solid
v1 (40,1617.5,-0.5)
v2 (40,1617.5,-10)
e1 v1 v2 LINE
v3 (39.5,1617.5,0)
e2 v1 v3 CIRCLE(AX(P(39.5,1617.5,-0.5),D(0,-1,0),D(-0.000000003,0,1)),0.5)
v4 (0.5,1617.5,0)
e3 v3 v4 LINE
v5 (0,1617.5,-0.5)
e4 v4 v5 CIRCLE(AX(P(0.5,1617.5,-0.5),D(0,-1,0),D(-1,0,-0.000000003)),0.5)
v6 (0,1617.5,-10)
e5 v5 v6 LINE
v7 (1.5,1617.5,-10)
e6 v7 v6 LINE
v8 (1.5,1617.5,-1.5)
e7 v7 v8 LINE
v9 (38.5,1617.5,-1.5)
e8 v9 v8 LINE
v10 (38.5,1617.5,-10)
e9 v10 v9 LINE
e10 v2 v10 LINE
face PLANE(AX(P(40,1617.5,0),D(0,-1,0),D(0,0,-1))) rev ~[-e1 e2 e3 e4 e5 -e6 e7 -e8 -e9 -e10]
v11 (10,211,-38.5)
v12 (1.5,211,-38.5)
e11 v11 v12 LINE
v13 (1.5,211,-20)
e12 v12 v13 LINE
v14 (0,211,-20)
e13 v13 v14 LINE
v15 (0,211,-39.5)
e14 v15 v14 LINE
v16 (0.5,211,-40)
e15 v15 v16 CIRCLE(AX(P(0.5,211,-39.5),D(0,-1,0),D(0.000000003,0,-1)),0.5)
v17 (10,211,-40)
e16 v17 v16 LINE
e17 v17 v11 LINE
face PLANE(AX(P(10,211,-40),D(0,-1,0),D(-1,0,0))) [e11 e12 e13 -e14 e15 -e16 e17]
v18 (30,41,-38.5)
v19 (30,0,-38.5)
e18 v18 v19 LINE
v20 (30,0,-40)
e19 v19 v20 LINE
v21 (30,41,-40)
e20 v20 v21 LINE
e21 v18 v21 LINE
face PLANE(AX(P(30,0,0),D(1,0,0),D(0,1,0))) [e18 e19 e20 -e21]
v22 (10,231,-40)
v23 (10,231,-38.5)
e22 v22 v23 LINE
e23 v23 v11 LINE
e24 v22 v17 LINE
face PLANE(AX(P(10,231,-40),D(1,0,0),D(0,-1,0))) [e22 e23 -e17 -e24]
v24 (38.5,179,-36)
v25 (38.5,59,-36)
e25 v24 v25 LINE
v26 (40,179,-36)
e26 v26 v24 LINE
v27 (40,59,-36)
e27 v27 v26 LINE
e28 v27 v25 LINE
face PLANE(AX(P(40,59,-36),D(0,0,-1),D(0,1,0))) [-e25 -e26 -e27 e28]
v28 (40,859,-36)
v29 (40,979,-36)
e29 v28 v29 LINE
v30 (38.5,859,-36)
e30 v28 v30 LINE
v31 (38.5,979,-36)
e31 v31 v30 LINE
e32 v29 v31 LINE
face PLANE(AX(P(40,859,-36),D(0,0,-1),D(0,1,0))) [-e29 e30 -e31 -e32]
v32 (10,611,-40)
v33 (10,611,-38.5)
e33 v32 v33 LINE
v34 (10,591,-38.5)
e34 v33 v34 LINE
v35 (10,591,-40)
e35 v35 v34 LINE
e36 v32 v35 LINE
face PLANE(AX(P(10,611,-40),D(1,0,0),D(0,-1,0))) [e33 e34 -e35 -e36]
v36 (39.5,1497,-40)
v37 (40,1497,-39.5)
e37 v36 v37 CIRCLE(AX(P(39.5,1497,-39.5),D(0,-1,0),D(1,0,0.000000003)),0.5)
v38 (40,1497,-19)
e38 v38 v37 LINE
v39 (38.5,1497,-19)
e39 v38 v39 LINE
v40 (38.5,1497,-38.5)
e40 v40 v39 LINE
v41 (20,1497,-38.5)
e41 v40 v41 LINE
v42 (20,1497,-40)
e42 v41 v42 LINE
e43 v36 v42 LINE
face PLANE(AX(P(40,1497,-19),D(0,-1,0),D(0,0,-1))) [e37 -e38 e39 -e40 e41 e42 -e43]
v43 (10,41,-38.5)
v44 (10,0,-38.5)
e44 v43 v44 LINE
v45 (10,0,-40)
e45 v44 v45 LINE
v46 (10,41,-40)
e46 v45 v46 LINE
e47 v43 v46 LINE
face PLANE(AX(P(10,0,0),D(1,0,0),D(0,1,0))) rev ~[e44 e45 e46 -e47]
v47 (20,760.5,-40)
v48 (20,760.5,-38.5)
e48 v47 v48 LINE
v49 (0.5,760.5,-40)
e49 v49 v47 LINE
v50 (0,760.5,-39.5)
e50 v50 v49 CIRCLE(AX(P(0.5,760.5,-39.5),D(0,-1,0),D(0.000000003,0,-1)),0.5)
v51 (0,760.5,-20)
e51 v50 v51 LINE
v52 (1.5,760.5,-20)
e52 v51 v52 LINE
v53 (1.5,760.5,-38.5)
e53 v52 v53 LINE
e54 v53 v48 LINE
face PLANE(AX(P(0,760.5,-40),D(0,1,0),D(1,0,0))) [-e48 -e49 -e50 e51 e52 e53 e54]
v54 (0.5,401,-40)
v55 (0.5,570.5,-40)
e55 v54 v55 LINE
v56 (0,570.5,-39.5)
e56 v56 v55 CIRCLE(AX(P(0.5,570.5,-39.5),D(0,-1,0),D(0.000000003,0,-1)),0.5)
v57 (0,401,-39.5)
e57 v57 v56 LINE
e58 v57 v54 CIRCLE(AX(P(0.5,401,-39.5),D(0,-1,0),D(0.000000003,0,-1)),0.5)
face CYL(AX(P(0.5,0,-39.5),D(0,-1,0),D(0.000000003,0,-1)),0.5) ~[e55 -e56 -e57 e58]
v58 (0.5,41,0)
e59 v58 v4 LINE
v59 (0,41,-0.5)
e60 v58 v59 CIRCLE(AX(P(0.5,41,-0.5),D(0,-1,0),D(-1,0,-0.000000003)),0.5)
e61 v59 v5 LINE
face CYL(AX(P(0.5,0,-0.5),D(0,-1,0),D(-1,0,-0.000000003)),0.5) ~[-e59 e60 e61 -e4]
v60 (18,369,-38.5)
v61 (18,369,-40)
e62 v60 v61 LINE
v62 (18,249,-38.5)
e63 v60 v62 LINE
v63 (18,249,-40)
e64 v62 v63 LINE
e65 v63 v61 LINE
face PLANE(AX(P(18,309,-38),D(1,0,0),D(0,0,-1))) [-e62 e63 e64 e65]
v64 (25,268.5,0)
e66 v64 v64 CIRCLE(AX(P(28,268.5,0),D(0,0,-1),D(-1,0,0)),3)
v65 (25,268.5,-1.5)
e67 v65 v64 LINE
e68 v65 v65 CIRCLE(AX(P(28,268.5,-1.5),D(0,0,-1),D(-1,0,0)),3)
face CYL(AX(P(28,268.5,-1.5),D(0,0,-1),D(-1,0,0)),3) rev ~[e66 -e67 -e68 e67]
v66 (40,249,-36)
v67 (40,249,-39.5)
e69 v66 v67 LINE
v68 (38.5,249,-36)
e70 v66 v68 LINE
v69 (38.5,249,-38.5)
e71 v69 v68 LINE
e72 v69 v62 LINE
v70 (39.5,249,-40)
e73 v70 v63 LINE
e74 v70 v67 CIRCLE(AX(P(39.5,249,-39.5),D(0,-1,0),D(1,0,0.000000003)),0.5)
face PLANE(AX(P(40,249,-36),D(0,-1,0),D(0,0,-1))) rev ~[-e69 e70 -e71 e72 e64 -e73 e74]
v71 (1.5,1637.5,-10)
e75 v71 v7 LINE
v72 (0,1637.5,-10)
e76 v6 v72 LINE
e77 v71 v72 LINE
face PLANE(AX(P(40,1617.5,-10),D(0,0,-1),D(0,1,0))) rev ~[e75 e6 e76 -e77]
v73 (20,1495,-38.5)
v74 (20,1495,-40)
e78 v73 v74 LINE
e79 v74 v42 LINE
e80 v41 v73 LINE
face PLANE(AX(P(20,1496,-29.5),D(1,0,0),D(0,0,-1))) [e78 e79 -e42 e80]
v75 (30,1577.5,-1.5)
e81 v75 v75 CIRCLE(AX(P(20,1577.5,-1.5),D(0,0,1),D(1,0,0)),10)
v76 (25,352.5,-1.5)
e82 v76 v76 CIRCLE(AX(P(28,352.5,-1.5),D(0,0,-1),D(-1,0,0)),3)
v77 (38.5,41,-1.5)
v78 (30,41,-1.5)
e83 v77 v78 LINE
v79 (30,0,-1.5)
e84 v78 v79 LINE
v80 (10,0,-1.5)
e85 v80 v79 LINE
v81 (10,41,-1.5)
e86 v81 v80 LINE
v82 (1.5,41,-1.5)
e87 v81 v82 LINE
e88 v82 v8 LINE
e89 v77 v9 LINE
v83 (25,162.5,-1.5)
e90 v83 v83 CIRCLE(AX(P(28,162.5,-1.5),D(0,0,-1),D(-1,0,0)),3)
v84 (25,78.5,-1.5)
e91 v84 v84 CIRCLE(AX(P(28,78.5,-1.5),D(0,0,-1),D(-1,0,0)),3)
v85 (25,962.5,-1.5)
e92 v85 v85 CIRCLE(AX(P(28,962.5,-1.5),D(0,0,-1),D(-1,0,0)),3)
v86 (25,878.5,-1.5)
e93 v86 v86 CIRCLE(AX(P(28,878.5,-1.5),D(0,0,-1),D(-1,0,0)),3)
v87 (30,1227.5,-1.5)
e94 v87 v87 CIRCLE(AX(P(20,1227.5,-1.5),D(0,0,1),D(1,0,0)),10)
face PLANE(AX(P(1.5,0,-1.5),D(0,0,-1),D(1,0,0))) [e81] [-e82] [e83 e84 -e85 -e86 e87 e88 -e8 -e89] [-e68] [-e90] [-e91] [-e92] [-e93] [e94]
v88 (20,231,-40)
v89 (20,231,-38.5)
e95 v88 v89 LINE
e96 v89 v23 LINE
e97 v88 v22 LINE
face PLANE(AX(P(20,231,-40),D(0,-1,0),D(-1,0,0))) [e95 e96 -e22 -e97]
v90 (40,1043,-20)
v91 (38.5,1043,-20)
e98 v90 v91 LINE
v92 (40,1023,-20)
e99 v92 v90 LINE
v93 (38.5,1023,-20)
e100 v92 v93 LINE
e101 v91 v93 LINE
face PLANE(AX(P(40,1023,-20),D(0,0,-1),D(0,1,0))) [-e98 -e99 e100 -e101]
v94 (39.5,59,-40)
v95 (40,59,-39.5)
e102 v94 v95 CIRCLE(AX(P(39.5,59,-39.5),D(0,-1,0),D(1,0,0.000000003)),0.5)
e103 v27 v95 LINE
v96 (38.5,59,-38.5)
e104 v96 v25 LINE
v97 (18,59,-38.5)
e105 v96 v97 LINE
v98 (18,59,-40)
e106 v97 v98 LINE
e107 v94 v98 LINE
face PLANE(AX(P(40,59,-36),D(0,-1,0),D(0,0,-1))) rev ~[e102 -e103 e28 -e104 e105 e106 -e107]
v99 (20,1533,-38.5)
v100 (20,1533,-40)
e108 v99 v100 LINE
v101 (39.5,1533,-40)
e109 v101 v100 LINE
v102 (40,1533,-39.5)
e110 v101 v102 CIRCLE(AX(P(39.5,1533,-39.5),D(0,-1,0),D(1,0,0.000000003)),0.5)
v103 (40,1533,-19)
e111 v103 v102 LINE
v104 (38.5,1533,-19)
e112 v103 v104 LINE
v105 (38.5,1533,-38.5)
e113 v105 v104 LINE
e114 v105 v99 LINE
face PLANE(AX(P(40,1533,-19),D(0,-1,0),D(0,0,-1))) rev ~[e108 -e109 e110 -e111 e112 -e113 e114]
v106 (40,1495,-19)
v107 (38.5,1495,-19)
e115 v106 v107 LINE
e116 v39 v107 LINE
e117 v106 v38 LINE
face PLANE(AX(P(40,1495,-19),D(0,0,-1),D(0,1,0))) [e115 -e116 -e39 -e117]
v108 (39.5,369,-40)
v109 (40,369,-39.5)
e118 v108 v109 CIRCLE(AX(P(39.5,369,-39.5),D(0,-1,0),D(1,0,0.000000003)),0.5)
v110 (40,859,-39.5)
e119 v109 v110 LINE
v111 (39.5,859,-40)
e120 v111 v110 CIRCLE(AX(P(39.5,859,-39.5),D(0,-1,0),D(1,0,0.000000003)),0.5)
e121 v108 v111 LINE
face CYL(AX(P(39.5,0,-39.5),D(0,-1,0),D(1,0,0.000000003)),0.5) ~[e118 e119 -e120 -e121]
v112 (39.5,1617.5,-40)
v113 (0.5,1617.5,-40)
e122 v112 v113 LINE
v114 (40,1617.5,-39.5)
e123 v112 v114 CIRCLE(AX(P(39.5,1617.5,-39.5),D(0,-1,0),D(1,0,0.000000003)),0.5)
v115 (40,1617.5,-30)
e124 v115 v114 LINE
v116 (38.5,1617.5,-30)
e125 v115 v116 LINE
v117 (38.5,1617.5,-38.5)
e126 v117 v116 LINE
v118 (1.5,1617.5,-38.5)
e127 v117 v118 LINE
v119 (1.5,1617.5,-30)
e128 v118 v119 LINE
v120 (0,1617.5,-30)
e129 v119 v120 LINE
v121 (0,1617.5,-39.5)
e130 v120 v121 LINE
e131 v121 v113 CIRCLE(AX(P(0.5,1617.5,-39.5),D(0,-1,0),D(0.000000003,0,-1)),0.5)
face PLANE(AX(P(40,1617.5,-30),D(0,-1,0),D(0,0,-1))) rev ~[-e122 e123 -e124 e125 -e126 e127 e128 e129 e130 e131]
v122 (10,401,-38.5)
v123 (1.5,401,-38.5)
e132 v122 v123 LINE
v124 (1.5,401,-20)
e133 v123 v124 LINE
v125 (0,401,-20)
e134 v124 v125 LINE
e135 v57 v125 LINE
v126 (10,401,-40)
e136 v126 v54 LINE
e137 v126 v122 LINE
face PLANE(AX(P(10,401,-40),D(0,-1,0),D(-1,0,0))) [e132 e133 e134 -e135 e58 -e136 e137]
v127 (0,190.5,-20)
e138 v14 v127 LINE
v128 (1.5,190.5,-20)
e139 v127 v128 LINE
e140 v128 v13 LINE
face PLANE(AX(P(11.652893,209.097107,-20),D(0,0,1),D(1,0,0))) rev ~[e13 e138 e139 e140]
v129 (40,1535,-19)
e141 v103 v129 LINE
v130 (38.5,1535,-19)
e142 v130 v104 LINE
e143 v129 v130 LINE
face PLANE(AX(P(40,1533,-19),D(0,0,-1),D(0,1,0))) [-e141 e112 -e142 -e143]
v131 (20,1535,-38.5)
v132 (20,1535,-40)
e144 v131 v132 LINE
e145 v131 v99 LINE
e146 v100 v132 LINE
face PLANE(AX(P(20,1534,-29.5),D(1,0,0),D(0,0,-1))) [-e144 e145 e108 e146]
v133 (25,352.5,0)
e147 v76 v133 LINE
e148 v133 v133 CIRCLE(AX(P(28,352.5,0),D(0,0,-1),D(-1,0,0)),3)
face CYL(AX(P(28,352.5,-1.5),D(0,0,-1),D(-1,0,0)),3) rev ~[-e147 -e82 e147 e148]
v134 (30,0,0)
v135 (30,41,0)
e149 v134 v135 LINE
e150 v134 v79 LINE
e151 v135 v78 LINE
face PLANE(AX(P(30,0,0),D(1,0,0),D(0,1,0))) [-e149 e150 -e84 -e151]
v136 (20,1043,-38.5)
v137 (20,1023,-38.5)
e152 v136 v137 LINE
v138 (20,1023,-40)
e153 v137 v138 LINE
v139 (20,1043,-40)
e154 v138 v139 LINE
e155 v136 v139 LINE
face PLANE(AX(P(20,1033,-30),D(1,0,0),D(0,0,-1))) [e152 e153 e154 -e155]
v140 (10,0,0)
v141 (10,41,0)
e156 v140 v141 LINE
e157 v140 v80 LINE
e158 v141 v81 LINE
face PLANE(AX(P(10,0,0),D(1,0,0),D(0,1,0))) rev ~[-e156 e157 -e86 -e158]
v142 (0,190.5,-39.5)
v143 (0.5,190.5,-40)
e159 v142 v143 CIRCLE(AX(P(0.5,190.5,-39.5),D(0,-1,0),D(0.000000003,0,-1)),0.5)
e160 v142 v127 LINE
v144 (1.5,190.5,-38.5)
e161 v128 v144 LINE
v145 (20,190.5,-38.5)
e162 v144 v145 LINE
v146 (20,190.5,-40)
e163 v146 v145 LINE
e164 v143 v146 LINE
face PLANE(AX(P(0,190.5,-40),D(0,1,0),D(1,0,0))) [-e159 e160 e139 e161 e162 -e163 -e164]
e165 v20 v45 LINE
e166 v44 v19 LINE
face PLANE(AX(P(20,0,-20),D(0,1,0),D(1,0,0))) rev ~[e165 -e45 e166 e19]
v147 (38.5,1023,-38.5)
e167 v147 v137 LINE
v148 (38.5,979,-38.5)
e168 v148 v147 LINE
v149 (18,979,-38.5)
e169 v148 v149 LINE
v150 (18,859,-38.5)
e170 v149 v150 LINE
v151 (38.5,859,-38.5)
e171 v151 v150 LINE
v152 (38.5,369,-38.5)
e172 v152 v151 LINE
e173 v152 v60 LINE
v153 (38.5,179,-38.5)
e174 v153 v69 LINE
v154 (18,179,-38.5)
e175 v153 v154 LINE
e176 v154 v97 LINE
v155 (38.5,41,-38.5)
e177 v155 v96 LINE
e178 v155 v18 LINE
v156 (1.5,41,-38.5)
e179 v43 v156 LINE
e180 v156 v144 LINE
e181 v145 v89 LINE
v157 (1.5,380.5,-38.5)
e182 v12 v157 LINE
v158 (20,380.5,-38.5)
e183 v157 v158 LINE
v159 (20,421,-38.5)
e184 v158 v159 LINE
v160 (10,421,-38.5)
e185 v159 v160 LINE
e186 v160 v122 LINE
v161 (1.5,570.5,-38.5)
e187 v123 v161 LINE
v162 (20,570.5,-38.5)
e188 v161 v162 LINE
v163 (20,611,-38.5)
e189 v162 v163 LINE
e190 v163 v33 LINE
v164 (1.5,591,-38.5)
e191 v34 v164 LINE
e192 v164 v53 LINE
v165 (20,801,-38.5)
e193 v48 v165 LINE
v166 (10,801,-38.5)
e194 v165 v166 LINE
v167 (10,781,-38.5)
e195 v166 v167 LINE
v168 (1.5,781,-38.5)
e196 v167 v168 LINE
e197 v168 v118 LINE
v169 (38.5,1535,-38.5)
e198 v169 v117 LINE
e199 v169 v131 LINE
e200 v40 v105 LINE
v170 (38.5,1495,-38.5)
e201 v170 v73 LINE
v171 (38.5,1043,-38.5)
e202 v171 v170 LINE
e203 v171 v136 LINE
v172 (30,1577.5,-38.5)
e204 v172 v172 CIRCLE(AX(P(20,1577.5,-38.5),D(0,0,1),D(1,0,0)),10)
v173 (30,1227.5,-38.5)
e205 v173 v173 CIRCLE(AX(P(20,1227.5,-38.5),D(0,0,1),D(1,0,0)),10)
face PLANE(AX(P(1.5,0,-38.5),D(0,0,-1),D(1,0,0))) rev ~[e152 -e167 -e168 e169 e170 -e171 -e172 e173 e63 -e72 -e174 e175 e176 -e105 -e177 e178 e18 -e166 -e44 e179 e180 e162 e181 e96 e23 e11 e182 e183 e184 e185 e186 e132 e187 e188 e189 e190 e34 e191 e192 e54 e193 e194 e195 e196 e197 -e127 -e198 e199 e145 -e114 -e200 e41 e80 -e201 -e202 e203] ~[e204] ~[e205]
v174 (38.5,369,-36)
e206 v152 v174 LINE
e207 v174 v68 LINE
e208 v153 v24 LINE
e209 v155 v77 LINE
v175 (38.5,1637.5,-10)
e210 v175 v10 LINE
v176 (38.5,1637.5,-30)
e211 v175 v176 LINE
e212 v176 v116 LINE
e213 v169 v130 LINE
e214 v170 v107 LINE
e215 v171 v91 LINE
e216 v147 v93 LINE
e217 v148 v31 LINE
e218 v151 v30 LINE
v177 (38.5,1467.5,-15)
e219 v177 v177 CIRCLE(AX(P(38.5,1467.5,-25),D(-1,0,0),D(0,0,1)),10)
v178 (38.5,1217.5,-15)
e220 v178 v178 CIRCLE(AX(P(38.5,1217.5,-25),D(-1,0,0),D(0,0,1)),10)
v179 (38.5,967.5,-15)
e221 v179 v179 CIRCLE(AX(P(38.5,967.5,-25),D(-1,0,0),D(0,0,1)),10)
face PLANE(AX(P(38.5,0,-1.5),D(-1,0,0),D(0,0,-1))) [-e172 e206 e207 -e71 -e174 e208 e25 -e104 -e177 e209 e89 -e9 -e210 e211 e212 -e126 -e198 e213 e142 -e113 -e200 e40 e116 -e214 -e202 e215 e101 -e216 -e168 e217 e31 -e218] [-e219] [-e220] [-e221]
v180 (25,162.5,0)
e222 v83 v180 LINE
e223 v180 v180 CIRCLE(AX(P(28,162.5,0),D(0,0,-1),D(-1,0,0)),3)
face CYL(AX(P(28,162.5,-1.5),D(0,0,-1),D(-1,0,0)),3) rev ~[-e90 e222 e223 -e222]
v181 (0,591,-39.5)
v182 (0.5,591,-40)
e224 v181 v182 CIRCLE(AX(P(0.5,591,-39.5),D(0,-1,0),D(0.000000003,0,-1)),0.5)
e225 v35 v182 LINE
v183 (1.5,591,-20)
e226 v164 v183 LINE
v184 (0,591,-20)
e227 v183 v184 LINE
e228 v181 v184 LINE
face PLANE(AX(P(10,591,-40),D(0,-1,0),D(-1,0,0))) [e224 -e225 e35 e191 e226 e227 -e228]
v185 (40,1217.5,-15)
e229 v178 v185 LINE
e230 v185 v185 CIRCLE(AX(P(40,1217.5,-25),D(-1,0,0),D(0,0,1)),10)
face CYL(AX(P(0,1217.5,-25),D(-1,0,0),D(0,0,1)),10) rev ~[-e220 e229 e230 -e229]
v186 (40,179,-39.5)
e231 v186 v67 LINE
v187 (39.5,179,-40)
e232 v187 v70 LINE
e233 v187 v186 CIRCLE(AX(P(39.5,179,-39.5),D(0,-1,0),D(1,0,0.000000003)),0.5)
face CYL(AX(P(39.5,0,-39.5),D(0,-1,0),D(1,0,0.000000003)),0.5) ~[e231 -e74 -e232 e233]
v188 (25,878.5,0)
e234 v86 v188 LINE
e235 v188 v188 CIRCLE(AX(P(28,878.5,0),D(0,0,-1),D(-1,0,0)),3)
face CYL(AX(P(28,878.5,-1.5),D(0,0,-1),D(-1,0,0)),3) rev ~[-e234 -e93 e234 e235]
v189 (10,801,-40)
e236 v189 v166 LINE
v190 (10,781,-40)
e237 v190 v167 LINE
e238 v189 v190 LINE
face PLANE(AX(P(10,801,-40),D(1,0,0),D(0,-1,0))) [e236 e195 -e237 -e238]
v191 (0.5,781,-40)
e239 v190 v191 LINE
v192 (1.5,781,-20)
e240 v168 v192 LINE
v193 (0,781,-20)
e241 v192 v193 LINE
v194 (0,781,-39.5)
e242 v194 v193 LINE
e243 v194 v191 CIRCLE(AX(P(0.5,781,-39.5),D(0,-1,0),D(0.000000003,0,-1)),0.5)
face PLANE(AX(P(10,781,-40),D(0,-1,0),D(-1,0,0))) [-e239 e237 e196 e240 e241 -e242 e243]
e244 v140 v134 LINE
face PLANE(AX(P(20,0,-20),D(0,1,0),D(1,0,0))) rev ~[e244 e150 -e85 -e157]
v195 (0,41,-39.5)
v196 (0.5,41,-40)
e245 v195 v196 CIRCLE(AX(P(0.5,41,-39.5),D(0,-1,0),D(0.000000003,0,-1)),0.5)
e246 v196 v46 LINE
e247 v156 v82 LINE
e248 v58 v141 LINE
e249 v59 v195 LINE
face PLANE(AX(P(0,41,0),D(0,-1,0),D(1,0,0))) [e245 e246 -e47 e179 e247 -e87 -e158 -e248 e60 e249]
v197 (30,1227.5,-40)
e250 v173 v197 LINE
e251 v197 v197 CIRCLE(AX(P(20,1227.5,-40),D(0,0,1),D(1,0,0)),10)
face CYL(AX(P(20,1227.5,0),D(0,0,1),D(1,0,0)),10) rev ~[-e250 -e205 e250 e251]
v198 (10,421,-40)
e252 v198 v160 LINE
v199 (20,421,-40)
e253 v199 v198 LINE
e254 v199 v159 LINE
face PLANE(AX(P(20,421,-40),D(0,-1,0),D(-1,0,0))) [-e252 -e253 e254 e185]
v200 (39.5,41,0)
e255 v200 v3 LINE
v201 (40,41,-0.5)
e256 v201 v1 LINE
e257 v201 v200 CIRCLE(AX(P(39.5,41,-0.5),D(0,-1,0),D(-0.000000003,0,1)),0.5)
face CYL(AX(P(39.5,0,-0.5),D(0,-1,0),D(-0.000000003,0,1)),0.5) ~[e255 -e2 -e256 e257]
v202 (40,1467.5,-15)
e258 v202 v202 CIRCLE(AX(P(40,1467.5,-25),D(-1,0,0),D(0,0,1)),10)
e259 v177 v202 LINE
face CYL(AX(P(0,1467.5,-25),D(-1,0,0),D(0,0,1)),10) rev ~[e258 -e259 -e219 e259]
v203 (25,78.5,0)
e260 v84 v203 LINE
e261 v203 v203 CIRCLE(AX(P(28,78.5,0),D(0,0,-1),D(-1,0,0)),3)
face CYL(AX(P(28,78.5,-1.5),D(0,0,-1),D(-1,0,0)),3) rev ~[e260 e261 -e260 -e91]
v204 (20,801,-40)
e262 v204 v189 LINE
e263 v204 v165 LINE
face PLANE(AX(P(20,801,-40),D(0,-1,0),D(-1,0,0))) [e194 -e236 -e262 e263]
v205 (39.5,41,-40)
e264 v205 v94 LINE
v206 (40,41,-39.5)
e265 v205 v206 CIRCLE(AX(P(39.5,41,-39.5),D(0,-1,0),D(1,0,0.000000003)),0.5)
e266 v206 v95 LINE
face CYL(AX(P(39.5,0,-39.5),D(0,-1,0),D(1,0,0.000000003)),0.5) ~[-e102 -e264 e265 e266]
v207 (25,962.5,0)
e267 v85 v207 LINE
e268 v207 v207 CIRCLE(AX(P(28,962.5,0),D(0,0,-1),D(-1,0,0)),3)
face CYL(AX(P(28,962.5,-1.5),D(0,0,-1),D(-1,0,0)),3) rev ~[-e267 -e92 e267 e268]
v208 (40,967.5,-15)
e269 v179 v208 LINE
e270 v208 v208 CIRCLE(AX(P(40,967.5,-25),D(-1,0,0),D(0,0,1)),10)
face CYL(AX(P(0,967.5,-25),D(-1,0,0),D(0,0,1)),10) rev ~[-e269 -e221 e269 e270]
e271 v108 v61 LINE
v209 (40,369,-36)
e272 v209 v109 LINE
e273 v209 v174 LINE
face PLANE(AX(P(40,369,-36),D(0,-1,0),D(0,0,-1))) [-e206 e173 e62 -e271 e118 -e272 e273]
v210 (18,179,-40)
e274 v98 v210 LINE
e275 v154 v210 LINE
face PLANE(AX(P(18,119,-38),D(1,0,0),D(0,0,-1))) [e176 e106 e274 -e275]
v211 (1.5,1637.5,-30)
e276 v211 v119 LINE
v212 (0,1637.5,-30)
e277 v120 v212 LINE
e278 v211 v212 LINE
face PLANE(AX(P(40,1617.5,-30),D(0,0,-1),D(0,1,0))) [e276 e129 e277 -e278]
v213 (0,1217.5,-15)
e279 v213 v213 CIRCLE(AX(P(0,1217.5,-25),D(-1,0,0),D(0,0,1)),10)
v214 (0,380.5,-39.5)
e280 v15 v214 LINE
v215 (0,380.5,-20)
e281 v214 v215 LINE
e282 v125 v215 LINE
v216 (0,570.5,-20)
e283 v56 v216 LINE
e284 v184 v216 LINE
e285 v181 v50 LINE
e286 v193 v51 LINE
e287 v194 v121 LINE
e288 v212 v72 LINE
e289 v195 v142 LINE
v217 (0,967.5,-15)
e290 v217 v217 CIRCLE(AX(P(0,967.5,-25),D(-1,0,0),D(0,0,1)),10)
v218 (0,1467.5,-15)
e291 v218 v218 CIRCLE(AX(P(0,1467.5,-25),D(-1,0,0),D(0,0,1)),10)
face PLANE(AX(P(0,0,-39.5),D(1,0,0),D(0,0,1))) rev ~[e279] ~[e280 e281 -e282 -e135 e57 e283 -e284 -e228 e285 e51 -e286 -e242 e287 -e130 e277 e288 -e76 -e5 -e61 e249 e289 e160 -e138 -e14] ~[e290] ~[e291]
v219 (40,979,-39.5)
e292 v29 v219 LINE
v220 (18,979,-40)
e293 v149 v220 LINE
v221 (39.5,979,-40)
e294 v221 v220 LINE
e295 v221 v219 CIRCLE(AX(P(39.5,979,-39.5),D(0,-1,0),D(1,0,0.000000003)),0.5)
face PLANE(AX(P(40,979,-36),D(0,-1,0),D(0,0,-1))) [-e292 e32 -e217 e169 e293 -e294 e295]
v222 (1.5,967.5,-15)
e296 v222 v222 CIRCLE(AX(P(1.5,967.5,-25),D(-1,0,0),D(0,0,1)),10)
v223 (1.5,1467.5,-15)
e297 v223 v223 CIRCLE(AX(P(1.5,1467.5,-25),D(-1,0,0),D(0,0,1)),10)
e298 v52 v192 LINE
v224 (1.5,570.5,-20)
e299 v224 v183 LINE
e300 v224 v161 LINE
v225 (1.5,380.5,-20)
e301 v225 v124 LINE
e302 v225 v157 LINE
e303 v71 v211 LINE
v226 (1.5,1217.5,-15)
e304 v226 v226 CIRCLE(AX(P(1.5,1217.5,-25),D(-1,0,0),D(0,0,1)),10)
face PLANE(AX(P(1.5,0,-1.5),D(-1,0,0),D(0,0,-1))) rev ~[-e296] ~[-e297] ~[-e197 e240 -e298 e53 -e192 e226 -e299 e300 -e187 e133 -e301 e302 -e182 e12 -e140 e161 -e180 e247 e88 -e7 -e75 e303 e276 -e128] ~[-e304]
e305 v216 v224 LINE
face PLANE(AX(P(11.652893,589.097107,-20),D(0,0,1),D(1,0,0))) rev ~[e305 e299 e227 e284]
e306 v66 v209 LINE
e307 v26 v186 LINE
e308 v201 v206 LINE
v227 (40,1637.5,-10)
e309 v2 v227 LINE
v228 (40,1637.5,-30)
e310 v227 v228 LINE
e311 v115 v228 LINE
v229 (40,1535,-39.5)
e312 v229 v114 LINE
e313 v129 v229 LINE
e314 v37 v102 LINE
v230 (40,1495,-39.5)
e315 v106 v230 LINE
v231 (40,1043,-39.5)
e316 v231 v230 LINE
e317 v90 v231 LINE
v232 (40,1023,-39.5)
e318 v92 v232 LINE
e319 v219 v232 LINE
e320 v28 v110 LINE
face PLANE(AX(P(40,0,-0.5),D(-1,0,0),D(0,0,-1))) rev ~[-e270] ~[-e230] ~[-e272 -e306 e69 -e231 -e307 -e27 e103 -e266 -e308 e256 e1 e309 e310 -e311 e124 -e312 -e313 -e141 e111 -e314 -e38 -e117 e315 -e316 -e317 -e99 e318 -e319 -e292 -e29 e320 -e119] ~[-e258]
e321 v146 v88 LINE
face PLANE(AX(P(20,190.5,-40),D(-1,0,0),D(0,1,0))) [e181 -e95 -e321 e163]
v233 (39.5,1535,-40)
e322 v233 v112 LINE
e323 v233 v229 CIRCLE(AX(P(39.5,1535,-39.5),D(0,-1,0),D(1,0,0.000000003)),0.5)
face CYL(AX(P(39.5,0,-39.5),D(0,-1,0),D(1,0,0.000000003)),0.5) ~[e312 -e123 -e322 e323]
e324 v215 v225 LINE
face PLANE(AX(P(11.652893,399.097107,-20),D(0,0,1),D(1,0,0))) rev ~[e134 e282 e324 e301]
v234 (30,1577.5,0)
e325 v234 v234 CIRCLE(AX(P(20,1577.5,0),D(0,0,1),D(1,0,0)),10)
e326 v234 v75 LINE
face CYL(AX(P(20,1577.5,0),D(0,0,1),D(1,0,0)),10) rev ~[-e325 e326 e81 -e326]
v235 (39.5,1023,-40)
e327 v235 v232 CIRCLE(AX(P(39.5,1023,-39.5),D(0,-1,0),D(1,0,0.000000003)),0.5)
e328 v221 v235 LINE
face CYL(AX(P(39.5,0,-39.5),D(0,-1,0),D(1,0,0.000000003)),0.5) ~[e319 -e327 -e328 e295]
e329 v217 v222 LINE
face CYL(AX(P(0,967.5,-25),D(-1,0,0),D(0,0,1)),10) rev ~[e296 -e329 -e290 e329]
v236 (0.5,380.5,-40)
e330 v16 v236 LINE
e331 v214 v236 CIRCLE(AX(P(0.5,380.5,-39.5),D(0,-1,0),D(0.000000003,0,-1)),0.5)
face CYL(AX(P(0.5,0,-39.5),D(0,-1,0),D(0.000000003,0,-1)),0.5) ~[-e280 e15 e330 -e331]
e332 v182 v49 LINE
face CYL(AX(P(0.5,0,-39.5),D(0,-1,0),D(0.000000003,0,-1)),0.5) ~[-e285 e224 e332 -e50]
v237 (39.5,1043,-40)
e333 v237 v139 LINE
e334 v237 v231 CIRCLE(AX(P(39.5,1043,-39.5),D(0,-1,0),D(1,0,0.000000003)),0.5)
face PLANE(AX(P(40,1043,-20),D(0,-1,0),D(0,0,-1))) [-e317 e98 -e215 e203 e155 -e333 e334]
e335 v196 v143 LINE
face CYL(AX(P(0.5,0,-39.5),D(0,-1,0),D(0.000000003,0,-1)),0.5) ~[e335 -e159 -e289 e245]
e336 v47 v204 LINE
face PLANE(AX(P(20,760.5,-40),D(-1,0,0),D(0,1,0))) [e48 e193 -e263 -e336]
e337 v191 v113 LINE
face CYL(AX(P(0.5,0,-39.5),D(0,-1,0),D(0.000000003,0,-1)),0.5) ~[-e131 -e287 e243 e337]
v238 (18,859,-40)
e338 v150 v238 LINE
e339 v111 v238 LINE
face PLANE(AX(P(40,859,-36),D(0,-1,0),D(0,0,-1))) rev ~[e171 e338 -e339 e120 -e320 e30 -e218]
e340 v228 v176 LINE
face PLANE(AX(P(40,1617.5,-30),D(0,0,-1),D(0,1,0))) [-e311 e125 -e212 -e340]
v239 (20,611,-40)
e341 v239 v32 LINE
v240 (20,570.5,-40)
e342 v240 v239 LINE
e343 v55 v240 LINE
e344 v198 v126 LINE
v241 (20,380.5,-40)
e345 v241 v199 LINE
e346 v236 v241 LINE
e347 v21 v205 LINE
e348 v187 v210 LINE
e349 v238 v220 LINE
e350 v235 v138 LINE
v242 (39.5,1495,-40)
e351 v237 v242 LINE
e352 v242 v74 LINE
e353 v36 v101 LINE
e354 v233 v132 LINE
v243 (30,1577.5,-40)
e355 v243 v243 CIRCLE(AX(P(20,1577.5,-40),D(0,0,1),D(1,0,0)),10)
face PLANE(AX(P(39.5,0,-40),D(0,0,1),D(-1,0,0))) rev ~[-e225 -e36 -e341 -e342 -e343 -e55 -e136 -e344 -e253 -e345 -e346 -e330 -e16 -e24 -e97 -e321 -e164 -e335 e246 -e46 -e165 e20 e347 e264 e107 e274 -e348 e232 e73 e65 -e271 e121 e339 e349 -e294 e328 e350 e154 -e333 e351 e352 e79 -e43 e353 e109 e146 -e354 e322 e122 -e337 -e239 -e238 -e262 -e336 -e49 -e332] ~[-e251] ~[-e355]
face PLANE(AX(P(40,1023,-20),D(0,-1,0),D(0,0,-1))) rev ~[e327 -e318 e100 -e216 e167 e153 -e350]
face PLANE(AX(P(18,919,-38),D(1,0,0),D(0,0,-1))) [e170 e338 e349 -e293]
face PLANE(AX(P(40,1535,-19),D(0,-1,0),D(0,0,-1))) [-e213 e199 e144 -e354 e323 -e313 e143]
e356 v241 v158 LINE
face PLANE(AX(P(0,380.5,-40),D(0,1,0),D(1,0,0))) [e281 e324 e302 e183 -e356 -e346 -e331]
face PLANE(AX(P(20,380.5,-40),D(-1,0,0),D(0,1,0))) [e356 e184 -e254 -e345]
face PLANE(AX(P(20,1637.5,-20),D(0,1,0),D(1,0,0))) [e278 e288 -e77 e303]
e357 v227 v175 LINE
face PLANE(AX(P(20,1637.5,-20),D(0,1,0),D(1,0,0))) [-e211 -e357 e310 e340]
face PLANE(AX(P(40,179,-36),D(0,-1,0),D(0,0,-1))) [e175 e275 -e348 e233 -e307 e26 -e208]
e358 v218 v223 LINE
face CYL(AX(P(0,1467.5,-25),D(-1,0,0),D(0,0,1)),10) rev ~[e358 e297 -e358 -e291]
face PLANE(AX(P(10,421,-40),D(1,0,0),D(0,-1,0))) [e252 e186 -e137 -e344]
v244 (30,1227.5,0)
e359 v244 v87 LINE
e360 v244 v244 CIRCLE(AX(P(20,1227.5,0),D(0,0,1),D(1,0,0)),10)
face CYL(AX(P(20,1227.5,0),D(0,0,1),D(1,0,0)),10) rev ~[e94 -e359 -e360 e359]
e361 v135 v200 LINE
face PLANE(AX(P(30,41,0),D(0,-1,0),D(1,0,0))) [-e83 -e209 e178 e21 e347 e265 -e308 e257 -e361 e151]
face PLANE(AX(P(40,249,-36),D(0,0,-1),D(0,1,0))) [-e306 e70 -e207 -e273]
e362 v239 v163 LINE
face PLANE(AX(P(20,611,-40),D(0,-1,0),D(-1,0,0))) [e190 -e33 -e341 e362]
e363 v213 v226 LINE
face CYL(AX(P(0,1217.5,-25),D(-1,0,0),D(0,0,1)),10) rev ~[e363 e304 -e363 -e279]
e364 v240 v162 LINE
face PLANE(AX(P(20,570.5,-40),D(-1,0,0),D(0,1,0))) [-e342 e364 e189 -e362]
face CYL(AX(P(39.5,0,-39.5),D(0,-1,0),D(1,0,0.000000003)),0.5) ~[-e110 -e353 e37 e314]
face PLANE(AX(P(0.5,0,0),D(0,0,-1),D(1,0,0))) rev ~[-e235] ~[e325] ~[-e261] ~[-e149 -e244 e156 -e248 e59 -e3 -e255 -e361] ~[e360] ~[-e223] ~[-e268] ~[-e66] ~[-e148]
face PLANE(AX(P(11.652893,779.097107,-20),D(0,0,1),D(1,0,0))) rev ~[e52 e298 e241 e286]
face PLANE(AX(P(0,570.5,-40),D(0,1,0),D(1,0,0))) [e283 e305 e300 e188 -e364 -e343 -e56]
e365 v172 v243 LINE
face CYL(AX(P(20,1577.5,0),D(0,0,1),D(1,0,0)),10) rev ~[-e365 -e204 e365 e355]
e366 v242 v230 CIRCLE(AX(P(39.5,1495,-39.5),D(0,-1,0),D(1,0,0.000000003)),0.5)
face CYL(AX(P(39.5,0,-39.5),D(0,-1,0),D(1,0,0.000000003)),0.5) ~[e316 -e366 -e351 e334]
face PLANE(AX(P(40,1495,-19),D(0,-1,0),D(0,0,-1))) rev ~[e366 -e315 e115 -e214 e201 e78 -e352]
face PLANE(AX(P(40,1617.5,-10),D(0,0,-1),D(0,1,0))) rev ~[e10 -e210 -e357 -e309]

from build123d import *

# Parameters (mm, degrees)
SKETCH1_W           = 37
SKETCH1_H           = 37
BOSS_EXTRUDE1_DEPTH = 1637.5
SKETCH2_W           = 10
SKETCH2_H           = 20
CUT_EXTRUDE1_DEPTH  = 40
SKETCH3_W           = 21
SKETCH3_H           = 2
CUT_EXTRUDE2_DEPTH  = 20
SKETCH4_W           = 10
SKETCH4_H           = 41
CUT_EXTRUDE3_DEPTH  = 1639.476807892
CUT_EXTRUDE4_DEPTH  = 20
SKETCH7_W           = 20
SKETCH7_H           = 20
CUT_EXTRUDE6_DEPTH  = 20
SKETCH8_W           = 4
SKETCH8_H           = 120
CUT_EXTRUDE7_DEPTH  = 22
SKETCH9_R           = 3
CUT_EXTRUDE8_DEPTH  = 22
LPATTERN1_COUNT     = 2
LPATTERN1_PITCH     = 190
LPATTERN2_COUNT     = 2
LPATTERN2_PITCH     = 800
SKETCH10_R          = 10
CUT_EXTRUDE9_DEPTH  = 1639.476807892
SKETCH11_R          = 10
CUT_EXTRUDE10_DEPTH = 1639.476807892


with BuildPart() as part:
    # Sketch1 → Boss-Extrude1 (new body)
    with BuildSketch(Plane(origin=(0, 0, 0), x_dir=(1, 0, 0), z_dir=(0, 1, 0))):
        with BuildLine():
            Line((0.5, 0), (39.5, 0))
            ThreePointArc((39.5, 0), (39.853553391, 0.146446609), (40, 0.5))
            Line((40, 0.5), (40, 39.5))
            ThreePointArc((40, 39.5), (39.853553391, 39.853553391), (39.5, 40))
            Line((39.5, 40), (0.5, 40))
            ThreePointArc((0.5, 40), (0.146446609, 39.853553391), (0, 39.5))
            Line((0, 39.5), (0, 0.5))
            ThreePointArc((0, 0.5), (0.146446609, 0.146446609), (0.5, 0))
        make_face()
        with Locations((20, 20)):
            Rectangle(SKETCH1_W, SKETCH1_H, mode=Mode.SUBTRACT)
    extrude(amount=BOSS_EXTRUDE1_DEPTH)

    # Sketch2 → Cut-Extrude1 (cut)
    with BuildSketch(Plane(origin=(40, 0, 0), x_dir=(0, 0, -1), z_dir=(1, 0, 0))):
        with Locations((35, 1627.5)):
            Rectangle(SKETCH2_W, SKETCH2_H)
        with Locations((5, 1627.5)):
            Rectangle(SKETCH2_W, SKETCH2_H)
    extrude(amount=-CUT_EXTRUDE1_DEPTH, mode=Mode.SUBTRACT)

    # Sketch3 → Cut-Extrude2 (cut)
    with BuildSketch(Plane(origin=(40, 0, 0), x_dir=(0, 0, -1), z_dir=(1, 0, 0))):
        with Locations((29.5, 1534)):
            Rectangle(SKETCH3_W, SKETCH3_H)
        with Locations((29.5, 1496)):
            Rectangle(SKETCH3_W, SKETCH3_H)
    extrude(amount=-CUT_EXTRUDE2_DEPTH, mode=Mode.SUBTRACT)

    # Sketch4 → Cut-Extrude3 (cut, through all)
    with BuildSketch(Plane.XY):
        with Locations((35, 20.5)):
            Rectangle(SKETCH4_W, SKETCH4_H)
        with Locations((5, 20.5)):
            Rectangle(SKETCH4_W, SKETCH4_H)
    extrude(amount=-CUT_EXTRUDE3_DEPTH, mode=Mode.SUBTRACT)

    # Sketch5 → Cut-Extrude4 (cut)
    with BuildSketch(Plane(origin=(40, 0, -40), x_dir=(1, 0, 0), z_dir=(0, 0, 1))):
        Polygon((-40, 190.5), (-20, 190.5), (-20, 231), (-30, 231), (-30, 211), (-40, 211), align=None)
        Polygon((-40, 380.5), (-20, 380.5), (-20, 421), (-30, 421), (-30, 401), (-40, 401), align=None)
        Polygon((-40, 570.5), (-20, 570.5), (-20, 611), (-30, 611), (-30, 591), (-40, 591), align=None)
        Polygon((-40, 760.5), (-20, 760.5), (-20, 801), (-30, 801), (-30, 781), (-40, 781), align=None)
    extrude(amount=CUT_EXTRUDE4_DEPTH, mode=Mode.SUBTRACT)

    # Sketch7 → Cut-Extrude6 (cut)
    with BuildSketch(Plane(origin=(40, 0, 0), x_dir=(0, 0, -1), z_dir=(1, 0, 0))):
        with Locations((30, 1033)):
            Rectangle(SKETCH7_W, SKETCH7_H)
    extrude(amount=-CUT_EXTRUDE6_DEPTH, mode=Mode.SUBTRACT)

    # Sketch8 → Cut-Extrude7 (cut)
    with BuildSketch(Plane(origin=(40, 0, 0), x_dir=(0, 0, -1), z_dir=(1, 0, 0))):
        with Locations((38, 119)):
            Rectangle(SKETCH8_W, SKETCH8_H)
    cut_extrude7 = extrude(amount=-CUT_EXTRUDE7_DEPTH, mode=Mode.SUBTRACT)

    # Sketch9 → Cut-Extrude8 (cut)
    with BuildSketch(Plane(origin=(0, 0, -1.5), x_dir=(-1, 0, 0), z_dir=(0, 0, -1))):
        with Locations((-28, 162.5)):
            Circle(SKETCH9_R)
        with Locations((-28, 78.5)):
            Circle(SKETCH9_R)
    cut_extrude8 = extrude(amount=-CUT_EXTRUDE8_DEPTH, mode=Mode.SUBTRACT)

    # LPattern1: Cut-Extrude7, Cut-Extrude8 ×2
    with Locations(*[(0, i * LPATTERN1_PITCH, 0) for i in range(1, LPATTERN1_COUNT)]):
        add(cut_extrude7, mode=Mode.SUBTRACT)
        add(cut_extrude8, mode=Mode.SUBTRACT)

    # LPattern2: Cut-Extrude7, Cut-Extrude8 ×2
    with Locations(*[(0, i * LPATTERN2_PITCH, 0) for i in range(1, LPATTERN2_COUNT)]):
        add(cut_extrude7, mode=Mode.SUBTRACT)
        add(cut_extrude8, mode=Mode.SUBTRACT)

    # Sketch10 → Cut-Extrude9 (cut, through all)
    with BuildSketch(Plane.XY):
        with Locations((20, 1577.5)):
            Circle(SKETCH10_R)
        with Locations((20, 1227.5)):
            Circle(SKETCH10_R)
    extrude(amount=-CUT_EXTRUDE9_DEPTH, mode=Mode.SUBTRACT)

    # Sketch11 → Cut-Extrude10 (cut, through all)
    with BuildSketch(Plane.ZY):
        with Locations((-25, 1467.5)):
            Circle(SKETCH11_R)
        with Locations((-25, 1217.5)):
            Circle(SKETCH11_R)
        with Locations((-25, 967.5)):
            Circle(SKETCH11_R)
    extrude(amount=-CUT_EXTRUDE10_DEPTH, mode=Mode.SUBTRACT)


solid = part.part
